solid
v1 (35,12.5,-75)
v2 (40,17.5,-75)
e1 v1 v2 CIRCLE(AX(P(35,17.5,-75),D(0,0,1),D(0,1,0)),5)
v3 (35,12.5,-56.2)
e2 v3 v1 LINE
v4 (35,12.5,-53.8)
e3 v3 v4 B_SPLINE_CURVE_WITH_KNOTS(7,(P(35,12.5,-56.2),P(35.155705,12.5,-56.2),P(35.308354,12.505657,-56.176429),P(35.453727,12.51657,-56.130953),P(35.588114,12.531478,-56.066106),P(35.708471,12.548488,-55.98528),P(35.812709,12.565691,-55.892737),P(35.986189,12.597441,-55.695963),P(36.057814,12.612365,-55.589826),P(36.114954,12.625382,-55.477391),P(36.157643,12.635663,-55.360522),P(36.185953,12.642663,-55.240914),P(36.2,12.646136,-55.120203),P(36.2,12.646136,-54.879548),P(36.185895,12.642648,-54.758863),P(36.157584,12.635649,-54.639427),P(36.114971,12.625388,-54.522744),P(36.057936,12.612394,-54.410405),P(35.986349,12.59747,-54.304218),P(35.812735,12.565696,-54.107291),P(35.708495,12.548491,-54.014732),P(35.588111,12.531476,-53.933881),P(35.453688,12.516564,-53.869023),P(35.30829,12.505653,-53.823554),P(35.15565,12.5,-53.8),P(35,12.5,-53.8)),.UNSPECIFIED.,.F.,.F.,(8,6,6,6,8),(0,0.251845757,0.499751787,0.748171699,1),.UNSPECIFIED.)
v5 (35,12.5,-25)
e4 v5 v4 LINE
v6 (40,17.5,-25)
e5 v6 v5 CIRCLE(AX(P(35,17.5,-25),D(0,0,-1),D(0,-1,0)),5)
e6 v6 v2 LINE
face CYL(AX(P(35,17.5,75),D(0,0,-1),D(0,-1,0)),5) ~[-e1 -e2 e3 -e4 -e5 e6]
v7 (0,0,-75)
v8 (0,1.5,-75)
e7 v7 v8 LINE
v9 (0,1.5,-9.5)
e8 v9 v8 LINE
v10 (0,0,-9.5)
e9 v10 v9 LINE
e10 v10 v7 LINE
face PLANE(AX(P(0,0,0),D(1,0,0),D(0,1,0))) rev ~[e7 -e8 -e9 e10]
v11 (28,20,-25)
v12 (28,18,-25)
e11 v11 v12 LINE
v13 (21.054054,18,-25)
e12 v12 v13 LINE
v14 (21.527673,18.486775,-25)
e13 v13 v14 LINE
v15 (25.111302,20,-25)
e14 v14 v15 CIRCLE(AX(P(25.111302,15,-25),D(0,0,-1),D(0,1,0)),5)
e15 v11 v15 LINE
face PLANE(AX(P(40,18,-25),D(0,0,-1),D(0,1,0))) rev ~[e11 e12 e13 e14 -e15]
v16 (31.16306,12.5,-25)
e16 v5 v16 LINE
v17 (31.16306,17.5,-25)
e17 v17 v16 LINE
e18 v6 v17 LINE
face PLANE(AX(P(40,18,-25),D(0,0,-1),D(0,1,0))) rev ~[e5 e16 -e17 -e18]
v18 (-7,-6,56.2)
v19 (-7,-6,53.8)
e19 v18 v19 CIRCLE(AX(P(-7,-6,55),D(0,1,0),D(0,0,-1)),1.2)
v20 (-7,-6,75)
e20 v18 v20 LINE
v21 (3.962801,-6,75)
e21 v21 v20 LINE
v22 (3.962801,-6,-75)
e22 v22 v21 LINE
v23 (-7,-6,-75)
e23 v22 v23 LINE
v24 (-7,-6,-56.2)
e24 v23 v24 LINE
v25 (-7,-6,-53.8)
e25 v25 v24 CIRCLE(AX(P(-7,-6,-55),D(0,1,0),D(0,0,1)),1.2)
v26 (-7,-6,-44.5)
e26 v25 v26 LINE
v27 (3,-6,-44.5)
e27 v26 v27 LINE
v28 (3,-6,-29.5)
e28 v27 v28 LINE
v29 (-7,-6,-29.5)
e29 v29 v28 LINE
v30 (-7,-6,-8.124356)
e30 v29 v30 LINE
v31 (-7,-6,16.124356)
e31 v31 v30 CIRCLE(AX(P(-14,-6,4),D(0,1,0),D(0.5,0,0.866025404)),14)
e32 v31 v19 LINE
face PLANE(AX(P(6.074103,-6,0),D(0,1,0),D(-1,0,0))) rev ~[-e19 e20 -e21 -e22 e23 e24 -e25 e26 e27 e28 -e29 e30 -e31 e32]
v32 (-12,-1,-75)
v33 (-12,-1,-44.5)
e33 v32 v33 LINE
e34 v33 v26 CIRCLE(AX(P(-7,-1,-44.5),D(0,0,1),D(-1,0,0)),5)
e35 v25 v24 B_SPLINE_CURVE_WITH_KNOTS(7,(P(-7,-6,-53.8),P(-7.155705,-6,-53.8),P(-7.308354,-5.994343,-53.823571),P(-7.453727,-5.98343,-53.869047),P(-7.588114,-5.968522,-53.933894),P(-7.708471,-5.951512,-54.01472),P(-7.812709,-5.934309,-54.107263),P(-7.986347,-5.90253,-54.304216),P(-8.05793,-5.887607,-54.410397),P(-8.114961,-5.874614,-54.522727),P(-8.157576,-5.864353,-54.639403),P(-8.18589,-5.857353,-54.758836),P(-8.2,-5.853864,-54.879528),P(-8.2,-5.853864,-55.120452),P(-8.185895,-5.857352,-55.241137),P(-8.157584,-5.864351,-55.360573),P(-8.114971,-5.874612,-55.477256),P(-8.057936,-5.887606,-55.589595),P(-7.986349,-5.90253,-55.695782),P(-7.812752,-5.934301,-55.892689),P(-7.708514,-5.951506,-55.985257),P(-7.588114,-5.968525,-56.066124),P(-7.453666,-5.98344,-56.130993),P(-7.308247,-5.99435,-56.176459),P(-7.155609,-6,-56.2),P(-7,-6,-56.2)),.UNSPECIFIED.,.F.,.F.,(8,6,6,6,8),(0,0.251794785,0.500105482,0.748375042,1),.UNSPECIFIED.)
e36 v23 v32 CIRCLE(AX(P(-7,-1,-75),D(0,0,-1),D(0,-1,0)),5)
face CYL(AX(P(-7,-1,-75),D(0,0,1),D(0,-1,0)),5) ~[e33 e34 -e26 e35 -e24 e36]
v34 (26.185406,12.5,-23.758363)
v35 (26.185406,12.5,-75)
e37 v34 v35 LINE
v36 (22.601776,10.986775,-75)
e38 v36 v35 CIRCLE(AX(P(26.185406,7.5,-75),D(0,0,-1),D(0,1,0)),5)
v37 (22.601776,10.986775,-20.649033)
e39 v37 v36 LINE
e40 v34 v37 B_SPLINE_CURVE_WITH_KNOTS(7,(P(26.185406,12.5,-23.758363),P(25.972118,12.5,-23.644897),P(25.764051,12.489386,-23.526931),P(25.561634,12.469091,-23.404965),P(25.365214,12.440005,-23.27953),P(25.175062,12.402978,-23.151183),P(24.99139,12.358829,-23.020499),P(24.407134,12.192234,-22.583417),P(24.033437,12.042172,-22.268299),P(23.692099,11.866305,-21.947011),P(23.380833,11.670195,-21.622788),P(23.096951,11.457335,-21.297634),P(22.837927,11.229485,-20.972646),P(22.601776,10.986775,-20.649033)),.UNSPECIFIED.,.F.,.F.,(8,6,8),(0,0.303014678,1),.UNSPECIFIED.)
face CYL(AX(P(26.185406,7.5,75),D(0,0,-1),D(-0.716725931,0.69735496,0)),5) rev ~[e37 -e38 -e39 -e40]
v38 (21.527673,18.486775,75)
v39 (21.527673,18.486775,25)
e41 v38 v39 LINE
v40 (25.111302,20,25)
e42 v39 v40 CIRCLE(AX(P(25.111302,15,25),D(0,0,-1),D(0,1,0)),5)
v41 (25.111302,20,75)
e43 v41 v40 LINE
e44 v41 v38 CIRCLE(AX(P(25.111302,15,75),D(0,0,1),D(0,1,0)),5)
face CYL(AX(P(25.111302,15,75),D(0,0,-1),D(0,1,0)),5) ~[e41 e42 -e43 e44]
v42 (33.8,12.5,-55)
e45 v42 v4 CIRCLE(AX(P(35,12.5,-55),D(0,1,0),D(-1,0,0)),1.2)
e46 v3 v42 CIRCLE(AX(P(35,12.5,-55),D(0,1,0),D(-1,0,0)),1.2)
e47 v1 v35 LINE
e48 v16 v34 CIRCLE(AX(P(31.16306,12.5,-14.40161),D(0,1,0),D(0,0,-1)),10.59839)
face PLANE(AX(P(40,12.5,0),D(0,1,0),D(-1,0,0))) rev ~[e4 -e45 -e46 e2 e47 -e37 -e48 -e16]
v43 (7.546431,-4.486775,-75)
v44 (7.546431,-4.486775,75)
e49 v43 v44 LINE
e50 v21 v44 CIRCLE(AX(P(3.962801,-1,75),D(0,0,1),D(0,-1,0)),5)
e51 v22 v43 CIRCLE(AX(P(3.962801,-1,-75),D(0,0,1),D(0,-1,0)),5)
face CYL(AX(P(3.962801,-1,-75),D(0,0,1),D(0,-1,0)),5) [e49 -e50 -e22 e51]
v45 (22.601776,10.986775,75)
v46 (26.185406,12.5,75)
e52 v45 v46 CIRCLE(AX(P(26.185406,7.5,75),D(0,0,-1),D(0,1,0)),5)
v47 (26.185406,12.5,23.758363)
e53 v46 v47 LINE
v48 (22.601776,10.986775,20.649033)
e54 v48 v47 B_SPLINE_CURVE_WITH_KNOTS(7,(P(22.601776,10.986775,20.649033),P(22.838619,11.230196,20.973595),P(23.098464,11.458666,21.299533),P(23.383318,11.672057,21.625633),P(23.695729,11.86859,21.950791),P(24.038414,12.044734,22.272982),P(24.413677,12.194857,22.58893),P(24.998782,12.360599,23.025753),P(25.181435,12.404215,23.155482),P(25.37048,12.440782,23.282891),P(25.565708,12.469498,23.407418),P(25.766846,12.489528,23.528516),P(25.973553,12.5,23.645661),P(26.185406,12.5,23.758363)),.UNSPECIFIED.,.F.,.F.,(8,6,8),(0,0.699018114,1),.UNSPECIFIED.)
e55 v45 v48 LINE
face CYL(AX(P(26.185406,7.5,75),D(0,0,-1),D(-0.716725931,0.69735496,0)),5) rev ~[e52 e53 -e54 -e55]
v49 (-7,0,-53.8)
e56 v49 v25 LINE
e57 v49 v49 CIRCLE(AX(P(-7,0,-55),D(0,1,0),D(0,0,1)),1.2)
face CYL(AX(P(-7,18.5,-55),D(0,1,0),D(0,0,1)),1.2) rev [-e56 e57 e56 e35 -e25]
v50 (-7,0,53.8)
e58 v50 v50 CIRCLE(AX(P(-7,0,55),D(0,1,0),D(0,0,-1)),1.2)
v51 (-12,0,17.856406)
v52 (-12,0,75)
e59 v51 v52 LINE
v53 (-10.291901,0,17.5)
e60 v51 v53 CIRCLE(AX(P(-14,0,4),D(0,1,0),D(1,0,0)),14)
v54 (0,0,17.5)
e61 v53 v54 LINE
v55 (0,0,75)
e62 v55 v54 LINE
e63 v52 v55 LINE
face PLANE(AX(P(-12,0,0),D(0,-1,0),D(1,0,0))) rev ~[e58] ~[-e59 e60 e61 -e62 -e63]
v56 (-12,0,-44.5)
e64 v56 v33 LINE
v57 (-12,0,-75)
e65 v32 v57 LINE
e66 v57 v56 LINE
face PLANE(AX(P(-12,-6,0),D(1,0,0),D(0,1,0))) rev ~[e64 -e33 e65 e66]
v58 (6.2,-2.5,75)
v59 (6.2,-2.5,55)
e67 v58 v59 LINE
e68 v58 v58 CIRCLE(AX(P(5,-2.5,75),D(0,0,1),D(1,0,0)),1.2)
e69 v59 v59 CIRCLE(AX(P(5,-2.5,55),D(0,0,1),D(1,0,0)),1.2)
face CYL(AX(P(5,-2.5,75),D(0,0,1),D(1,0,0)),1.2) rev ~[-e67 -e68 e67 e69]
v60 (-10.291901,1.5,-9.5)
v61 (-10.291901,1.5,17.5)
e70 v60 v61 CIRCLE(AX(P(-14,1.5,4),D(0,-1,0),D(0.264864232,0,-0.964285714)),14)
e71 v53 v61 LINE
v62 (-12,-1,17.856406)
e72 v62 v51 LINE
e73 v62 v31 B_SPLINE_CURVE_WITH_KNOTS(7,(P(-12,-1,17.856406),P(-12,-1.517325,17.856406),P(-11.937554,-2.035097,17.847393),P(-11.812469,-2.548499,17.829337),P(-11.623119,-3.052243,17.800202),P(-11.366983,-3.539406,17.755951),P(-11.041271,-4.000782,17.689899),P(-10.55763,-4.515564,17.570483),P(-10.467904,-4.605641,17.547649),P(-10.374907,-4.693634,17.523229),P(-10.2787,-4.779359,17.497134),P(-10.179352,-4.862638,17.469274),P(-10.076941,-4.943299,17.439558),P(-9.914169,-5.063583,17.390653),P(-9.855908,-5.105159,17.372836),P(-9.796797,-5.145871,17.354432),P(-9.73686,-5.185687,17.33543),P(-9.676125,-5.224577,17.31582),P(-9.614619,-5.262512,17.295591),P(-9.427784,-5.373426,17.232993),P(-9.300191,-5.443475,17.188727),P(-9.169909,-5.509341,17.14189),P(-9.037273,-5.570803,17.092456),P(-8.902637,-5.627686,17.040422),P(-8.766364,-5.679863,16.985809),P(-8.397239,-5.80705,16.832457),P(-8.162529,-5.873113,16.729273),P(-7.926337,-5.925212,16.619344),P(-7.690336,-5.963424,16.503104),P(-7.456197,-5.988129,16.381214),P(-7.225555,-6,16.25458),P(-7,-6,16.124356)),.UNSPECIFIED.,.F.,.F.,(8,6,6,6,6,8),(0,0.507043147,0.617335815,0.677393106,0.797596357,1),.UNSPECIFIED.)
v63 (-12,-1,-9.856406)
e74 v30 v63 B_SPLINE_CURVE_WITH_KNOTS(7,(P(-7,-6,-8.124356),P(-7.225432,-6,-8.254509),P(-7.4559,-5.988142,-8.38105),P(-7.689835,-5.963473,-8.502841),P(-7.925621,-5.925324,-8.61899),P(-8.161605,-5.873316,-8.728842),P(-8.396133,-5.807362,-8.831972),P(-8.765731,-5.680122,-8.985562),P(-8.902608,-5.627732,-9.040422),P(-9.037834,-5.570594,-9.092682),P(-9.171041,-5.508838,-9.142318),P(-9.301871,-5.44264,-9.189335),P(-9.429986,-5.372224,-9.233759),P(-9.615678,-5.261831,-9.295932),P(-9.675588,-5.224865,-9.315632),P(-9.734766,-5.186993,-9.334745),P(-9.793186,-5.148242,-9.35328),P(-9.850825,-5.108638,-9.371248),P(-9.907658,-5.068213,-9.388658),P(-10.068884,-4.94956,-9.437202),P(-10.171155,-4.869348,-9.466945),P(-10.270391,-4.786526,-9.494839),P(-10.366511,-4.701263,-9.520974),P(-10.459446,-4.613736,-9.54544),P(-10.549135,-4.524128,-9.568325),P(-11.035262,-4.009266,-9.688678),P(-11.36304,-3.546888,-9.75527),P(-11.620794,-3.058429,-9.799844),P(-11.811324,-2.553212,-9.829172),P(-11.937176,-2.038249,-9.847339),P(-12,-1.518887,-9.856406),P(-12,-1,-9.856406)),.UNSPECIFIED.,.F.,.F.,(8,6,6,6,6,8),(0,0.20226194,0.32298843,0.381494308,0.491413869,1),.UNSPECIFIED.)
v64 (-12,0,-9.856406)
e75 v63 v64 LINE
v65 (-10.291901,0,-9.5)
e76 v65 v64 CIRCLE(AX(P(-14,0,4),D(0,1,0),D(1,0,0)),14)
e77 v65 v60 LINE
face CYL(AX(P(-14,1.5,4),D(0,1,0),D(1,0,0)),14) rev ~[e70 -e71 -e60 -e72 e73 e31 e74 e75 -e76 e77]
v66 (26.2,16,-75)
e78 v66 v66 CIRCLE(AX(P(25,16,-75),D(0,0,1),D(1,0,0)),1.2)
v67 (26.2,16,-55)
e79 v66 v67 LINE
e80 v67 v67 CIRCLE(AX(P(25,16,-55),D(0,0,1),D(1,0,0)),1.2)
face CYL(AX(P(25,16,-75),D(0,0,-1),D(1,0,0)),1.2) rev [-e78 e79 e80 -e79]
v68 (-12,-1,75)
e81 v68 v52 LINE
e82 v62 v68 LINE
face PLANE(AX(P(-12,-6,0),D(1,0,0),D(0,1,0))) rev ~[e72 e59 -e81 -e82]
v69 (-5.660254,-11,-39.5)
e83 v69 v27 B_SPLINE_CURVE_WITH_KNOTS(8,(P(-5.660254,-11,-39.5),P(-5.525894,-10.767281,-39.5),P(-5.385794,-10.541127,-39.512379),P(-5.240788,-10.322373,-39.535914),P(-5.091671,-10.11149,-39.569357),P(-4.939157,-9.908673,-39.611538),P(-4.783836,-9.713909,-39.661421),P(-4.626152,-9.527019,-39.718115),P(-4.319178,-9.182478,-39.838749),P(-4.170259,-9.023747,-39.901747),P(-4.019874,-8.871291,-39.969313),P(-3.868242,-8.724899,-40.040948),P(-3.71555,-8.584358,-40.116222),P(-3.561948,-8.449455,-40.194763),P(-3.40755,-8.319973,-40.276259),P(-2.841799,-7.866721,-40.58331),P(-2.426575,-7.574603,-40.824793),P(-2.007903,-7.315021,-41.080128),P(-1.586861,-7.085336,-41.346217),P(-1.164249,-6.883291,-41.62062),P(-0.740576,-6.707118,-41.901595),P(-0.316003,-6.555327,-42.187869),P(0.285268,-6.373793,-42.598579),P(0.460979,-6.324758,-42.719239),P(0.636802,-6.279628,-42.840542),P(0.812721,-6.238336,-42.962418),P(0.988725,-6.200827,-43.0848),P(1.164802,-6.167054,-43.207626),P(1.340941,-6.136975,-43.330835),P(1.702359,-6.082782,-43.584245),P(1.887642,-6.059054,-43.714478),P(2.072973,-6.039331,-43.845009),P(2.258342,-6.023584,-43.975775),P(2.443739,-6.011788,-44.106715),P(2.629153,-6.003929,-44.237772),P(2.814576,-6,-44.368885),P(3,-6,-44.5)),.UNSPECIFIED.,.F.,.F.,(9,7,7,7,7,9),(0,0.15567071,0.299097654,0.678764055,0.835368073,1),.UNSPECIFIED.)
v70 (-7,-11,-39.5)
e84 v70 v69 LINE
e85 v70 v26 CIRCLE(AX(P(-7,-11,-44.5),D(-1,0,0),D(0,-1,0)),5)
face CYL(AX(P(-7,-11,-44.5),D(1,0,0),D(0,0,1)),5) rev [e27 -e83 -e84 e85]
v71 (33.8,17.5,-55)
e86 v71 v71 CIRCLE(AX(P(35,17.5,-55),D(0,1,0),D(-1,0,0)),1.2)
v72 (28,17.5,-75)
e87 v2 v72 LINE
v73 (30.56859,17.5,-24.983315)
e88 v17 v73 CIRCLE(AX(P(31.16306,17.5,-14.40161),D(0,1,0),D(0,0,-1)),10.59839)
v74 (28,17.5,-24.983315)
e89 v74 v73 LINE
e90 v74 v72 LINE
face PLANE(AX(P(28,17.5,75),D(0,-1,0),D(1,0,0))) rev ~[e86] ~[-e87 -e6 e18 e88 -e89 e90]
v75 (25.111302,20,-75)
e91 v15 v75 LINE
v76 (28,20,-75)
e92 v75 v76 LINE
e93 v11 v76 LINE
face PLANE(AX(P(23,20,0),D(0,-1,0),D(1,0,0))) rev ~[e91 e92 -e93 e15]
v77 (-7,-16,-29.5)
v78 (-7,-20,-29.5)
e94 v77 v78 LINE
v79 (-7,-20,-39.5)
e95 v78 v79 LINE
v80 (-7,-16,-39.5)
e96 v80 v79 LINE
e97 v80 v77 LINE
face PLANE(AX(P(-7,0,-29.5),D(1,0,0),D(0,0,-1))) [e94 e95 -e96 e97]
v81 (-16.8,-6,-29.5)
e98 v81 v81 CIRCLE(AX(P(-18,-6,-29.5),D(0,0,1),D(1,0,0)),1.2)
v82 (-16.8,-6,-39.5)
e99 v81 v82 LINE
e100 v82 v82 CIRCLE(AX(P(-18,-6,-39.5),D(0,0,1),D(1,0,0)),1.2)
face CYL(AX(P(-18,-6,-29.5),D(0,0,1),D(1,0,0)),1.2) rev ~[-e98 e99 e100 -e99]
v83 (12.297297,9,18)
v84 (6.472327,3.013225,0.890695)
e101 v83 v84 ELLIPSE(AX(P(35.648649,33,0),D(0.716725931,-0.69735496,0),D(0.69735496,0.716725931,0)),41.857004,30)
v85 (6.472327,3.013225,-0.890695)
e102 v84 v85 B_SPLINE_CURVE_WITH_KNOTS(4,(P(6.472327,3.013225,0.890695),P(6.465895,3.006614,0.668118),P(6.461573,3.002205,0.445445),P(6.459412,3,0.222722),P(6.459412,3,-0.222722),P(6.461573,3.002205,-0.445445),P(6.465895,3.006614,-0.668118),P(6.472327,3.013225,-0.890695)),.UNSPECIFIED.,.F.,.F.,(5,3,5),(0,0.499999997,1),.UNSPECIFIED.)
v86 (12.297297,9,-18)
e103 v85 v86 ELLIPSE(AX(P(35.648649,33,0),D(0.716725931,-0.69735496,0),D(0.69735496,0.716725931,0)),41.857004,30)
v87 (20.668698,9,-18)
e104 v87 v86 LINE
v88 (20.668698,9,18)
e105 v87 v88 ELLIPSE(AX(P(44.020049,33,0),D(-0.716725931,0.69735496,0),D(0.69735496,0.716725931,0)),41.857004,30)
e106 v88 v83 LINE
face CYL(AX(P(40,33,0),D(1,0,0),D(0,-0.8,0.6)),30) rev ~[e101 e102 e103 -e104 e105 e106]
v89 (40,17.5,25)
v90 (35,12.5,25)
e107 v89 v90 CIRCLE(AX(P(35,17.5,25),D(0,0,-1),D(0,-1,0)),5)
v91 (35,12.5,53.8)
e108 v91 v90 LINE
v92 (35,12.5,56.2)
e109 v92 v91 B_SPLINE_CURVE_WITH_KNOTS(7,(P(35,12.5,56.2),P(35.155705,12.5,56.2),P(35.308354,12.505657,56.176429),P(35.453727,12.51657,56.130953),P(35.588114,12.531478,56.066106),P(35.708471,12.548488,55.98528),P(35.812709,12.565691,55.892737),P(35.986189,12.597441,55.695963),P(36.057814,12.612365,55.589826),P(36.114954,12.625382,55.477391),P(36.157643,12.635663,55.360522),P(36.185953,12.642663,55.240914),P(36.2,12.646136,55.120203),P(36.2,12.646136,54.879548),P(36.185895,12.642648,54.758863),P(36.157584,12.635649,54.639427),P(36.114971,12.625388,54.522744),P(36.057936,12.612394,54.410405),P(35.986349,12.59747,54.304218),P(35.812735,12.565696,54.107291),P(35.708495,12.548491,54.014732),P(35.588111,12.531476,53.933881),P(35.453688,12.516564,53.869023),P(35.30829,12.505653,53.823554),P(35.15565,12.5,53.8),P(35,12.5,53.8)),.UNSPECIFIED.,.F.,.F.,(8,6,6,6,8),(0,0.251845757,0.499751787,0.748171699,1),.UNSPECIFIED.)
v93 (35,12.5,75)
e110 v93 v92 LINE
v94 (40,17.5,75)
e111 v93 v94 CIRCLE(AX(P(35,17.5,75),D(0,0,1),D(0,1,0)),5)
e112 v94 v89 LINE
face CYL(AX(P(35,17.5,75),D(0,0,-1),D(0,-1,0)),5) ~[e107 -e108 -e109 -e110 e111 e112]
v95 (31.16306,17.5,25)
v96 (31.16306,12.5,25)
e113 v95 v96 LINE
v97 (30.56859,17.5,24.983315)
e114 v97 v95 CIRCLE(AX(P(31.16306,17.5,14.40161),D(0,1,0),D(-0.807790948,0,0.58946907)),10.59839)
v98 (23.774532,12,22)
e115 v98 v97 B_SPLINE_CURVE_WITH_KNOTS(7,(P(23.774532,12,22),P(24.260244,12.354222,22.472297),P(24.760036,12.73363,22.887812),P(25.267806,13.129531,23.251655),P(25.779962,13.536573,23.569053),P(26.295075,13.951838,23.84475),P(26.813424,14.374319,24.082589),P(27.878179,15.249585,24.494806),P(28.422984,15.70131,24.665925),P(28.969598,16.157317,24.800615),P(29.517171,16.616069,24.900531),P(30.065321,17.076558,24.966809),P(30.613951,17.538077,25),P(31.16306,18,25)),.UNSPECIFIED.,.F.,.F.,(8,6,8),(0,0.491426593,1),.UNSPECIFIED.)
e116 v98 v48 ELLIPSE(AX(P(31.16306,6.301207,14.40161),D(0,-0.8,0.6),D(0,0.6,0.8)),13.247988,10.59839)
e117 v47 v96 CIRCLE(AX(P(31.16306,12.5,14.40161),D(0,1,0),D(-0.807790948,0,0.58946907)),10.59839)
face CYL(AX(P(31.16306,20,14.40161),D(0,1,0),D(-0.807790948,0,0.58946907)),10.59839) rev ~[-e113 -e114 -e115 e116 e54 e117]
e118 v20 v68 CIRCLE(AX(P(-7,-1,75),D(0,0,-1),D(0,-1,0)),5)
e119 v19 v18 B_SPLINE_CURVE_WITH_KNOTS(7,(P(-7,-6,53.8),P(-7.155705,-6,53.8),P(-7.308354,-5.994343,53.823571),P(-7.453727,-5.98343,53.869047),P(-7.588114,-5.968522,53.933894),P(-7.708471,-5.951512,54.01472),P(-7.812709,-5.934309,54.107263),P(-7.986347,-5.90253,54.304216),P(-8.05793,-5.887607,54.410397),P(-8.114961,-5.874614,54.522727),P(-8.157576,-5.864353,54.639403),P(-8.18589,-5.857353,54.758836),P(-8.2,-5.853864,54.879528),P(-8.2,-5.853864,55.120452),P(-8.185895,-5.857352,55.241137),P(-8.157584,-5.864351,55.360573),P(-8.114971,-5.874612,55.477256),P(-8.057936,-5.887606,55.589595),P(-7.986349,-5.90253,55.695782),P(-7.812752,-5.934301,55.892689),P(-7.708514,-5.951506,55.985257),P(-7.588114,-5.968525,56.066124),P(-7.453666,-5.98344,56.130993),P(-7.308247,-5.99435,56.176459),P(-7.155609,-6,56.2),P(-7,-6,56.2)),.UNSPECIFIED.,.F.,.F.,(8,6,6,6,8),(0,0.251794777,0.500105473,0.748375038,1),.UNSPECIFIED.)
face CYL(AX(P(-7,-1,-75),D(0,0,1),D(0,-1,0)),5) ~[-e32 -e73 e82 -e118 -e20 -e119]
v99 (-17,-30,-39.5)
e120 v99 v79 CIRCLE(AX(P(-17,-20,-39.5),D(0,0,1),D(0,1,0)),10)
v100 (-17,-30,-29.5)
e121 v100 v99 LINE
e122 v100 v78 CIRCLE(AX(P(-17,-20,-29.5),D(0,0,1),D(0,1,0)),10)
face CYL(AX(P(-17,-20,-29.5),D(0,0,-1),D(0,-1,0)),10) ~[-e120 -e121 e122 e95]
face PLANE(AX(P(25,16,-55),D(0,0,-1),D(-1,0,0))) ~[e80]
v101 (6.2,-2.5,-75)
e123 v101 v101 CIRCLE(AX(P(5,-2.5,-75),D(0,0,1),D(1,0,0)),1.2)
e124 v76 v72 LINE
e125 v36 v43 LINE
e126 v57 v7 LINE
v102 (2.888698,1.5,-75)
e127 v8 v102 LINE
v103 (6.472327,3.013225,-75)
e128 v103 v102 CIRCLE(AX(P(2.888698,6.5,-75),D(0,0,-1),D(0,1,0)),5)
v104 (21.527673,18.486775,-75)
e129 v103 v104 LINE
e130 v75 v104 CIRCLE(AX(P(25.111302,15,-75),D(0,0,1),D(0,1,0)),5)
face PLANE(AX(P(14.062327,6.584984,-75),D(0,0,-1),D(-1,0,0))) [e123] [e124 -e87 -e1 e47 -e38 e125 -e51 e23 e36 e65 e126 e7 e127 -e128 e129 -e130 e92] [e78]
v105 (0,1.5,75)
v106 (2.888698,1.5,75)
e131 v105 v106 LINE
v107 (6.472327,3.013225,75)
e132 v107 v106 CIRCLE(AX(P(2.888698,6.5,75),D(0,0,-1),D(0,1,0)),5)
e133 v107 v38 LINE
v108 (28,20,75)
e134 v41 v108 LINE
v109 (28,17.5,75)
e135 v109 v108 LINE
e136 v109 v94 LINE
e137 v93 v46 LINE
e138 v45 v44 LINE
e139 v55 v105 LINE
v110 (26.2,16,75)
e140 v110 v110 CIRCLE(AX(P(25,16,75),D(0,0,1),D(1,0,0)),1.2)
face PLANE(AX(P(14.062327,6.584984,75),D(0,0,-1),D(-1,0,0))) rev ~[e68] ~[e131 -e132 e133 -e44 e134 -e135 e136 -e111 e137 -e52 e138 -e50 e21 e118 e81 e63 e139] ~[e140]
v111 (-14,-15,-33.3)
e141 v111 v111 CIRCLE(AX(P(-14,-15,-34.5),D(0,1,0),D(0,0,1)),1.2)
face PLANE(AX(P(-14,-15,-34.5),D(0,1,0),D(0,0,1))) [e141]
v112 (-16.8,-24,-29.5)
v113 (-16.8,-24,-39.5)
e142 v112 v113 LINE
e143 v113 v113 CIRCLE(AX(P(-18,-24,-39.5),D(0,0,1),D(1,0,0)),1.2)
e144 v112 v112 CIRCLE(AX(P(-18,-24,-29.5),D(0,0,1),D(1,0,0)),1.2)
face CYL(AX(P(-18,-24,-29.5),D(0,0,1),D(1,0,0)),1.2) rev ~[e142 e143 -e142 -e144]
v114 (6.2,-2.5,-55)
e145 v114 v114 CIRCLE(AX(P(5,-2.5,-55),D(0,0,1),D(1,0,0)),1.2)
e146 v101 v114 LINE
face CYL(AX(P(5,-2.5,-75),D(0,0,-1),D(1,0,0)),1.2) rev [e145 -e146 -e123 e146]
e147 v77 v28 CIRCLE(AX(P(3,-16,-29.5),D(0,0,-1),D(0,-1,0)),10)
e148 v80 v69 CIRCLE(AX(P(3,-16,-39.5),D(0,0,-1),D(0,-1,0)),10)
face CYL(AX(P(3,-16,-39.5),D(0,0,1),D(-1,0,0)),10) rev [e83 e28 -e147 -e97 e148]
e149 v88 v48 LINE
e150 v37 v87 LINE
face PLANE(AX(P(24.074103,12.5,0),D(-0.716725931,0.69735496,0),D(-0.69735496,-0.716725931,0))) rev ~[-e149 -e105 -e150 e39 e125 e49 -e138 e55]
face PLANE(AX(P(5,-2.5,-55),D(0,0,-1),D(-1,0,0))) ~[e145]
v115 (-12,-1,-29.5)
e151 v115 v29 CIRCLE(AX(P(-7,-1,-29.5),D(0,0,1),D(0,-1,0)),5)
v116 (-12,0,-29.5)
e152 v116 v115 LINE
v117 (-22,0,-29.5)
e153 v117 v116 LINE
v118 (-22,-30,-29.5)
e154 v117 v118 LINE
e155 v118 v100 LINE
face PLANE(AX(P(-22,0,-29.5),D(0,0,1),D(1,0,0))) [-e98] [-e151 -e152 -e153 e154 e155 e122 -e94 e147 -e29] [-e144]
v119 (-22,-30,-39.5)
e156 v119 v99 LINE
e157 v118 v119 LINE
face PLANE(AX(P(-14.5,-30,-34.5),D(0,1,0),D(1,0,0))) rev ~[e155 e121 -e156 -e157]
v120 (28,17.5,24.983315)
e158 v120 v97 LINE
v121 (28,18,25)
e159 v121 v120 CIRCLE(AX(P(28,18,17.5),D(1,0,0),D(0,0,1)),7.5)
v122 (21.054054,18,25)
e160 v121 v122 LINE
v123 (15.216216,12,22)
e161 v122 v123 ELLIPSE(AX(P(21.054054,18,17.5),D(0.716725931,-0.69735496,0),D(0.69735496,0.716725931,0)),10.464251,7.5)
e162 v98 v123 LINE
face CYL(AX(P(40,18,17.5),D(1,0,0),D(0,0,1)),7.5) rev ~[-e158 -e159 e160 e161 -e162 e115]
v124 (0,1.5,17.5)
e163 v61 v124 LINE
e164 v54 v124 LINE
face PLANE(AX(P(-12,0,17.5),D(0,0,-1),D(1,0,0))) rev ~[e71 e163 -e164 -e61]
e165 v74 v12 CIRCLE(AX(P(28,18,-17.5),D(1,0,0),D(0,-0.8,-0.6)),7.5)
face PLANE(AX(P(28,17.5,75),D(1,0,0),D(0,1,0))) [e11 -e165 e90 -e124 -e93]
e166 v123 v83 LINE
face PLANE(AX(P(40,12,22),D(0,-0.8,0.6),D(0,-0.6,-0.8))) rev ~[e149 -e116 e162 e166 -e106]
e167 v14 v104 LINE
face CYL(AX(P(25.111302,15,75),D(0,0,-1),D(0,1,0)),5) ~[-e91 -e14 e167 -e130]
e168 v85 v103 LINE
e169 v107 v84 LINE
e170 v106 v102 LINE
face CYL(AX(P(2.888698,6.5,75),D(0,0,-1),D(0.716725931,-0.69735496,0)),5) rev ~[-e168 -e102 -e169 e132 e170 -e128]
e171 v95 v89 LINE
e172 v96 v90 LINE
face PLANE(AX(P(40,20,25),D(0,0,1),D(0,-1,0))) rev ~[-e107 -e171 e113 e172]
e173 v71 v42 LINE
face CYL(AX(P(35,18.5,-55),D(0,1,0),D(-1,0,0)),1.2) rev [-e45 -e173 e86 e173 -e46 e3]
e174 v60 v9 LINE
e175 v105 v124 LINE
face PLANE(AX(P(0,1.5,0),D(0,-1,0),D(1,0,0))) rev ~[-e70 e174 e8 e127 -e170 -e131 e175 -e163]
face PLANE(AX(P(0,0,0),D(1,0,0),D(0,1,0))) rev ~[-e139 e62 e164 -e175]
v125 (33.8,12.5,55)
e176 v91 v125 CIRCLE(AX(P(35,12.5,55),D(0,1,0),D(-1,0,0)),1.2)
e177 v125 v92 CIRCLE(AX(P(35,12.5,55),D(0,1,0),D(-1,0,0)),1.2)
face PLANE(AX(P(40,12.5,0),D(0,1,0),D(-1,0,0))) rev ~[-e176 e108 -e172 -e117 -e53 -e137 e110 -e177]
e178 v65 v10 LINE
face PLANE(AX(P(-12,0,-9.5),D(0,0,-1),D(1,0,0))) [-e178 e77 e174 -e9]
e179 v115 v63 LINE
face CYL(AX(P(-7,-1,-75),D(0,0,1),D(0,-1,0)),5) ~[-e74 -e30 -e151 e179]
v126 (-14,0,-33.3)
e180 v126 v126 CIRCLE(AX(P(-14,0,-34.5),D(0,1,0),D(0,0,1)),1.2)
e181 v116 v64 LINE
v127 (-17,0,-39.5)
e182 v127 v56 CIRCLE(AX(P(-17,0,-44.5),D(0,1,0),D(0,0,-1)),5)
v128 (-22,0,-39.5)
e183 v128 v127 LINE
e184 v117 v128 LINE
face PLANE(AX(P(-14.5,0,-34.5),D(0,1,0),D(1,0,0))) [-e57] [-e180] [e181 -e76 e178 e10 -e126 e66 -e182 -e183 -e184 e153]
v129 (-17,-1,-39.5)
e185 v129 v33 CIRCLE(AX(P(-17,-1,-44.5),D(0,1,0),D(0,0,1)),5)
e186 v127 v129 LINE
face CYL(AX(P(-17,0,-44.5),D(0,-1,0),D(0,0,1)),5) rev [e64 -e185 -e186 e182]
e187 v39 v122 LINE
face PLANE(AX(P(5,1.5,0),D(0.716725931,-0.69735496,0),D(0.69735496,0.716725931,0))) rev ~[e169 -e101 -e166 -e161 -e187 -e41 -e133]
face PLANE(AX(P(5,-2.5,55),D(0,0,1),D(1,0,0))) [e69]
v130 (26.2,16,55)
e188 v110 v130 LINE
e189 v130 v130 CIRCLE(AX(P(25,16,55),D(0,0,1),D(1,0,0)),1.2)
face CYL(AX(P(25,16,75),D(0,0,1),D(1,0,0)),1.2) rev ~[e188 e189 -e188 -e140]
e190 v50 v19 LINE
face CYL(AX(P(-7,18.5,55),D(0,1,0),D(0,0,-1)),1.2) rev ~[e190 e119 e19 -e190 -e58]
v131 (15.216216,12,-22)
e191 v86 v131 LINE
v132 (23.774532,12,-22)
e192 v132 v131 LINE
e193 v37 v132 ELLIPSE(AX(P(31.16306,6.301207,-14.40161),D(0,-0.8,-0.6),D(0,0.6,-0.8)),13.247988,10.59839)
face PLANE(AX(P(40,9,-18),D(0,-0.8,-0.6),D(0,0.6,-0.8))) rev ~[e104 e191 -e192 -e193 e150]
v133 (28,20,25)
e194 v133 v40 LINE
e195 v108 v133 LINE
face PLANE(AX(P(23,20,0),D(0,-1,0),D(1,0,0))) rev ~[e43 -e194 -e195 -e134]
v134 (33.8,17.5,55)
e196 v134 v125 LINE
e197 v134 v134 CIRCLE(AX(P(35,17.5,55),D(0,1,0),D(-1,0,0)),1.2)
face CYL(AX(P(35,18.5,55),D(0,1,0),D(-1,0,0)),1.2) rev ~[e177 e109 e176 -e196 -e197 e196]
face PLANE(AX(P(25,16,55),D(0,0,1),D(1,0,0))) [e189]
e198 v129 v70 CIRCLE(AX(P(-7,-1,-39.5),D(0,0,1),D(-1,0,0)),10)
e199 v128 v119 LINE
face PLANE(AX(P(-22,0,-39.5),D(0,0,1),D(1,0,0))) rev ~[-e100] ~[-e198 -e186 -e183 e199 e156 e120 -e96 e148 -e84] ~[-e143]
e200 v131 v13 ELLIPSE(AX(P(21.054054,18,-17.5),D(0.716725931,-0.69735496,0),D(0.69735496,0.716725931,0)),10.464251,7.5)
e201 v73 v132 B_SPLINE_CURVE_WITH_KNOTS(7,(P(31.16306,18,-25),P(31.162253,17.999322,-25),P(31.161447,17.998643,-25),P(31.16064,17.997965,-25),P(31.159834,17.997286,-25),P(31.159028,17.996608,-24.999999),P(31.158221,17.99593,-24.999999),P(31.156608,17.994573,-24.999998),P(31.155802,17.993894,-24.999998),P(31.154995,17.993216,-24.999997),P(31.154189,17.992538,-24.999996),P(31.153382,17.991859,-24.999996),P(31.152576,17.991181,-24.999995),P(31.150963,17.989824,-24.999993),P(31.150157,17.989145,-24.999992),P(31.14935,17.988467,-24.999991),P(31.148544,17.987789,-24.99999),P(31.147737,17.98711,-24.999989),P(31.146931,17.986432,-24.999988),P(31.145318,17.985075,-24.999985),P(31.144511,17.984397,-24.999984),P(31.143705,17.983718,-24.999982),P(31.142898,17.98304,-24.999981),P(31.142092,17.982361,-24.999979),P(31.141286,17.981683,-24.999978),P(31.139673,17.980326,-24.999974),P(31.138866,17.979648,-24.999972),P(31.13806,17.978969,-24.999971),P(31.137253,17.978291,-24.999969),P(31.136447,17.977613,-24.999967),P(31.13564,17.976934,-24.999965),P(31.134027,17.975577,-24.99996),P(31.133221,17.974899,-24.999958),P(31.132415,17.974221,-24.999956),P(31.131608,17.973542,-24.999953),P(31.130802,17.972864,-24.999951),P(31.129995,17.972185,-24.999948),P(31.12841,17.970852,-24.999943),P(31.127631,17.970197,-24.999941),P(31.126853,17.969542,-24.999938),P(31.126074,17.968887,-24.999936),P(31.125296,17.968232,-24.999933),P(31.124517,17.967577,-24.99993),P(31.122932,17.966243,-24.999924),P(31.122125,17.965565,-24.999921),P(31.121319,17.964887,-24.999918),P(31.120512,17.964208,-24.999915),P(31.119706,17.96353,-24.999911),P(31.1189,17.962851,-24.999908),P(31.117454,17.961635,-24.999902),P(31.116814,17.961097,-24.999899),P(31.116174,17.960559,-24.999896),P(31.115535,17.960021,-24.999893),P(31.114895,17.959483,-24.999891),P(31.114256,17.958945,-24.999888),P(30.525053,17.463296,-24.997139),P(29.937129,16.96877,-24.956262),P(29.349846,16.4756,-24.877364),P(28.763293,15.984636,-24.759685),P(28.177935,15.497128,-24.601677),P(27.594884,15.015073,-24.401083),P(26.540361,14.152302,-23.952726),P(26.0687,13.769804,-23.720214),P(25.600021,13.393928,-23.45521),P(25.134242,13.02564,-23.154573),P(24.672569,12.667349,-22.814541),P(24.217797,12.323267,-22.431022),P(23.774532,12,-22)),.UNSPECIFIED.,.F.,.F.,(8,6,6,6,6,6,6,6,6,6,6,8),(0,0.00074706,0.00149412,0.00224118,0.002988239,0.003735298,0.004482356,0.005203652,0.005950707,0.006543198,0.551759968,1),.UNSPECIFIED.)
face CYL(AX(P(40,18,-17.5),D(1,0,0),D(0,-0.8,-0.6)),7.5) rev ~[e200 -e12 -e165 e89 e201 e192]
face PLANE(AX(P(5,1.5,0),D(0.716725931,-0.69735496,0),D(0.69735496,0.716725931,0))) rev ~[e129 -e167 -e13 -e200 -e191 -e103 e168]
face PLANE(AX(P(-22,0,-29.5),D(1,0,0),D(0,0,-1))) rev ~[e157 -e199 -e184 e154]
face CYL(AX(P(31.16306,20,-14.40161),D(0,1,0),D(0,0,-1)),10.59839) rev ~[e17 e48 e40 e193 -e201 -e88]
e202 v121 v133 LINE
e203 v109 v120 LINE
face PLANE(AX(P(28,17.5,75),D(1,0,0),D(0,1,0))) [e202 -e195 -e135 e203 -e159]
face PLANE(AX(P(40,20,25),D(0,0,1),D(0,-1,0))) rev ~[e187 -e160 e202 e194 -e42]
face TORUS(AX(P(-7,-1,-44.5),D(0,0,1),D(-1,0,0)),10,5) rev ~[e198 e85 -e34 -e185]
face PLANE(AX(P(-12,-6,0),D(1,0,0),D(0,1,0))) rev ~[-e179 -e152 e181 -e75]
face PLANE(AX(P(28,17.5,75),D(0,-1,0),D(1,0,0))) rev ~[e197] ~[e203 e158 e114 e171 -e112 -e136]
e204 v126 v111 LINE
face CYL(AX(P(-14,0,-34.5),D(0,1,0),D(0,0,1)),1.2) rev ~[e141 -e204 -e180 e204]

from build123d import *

# Parameters (mm, degrees)
BOSS_EXTRU_1_DEPTH      = 75
CONG_1_R                = 5
ESQUISSE2_W             = 12
ESQUISSE2_H             = 27
BOSS_EXTRU_2_DEPTH      = 1.5
ESQUISSE3_R             = 14
ENL_V_MAT_EXTRU_1_DEPTH = 87.989941947
ENL_V_MAT_EXTRU_2_DEPTH = 94.429117653
ENL_V_MAT_EXTRU_3_DEPTH = 89.887569593
ESQUISSE6_R             = 1.2
ENL_V_MAT_EXTRU_4_DEPTH = 20
ESQUISSE7_R             = 1.2
ENL_V_MAT_EXTRU_5_DEPTH = 89.46044325
ESQUISSE9_W             = 15
ESQUISSE9_H             = 10
BOSS_EXTRU_3_DEPTH      = 30
CONG_2_R                = 10
CONG_3_R                = 5
ESQUISSE10_R            = 1.2
ENL_V_MAT_EXTRU_6_DEPTH = 10
ESQUISSE11_R            = 1.2
ENL_V_MAT_EXTRU_7_DEPTH = 15
ESQUISSE12_W            = 12
ESQUISSE12_H            = 2.5
ENL_V_MAT_EXTRU_8_DEPTH = 159.113883129


with BuildPart() as part:
    # Esquisse1 → Boss.-Extru.1 (new, symmetric)
    with BuildSketch(Plane.XY):
        Polygon((-12, 0), (0, 0), (0, 1.5), (5, 1.5), (23, 20), (28, 20), (28, 18.5), (40, 18.5), (40, 12.5), (24.074103459, 12.5), (6.074103459, -6), (-12, -6), align=None)
    extrude(amount=BOSS_EXTRU_1_DEPTH, both=True)

    # Congé1
    cong_1_edges = [part.edges().sort_by_distance(p)[0] for p in [
        (5, 1.5, 0),
        (23, 20, 0),
        (40, 12.5, 0),
        (24.074103459, 12.5, 0),
        (6.074103459, -6, 0),
        (-12, -6, 0),
    ]]
    fillet(cong_1_edges, radius=CONG_1_R)

    # Esquisse2 → Boss.-Extru.2 (add)
    with BuildSketch(Plane(origin=(0, 0, 0), x_dir=(1, 0, 0), z_dir=(0, 1, 0))):
        with Locations((-6, -4)):
            Rectangle(ESQUISSE2_W, ESQUISSE2_H)
    extrude(amount=BOSS_EXTRU_2_DEPTH)

    # Esquisse3 → Enlèv. mat.-Extru.1 (cut, through all)
    with BuildSketch(Plane(origin=(0, 1.5, 0), x_dir=(1, 0, 0), z_dir=(0, 1, 0))):
        with Locations((-14, -4)):
            Circle(ESQUISSE3_R)
    extrude(amount=-ENL_V_MAT_EXTRU_1_DEPTH, mode=Mode.SUBTRACT)

    # Esquisse4 → Enlèv. mat.-Extru.2 (cut, through all)
    with BuildSketch(Plane(origin=(40, 0, 0), x_dir=(0, 0, -1), z_dir=(1, 0, 0))):
        with BuildLine():
            Line((-22, 12), (-18, 9))
            ThreePointArc((-18, 9), (0, 3), (18, 9))
            Line((18, 9), (22, 12))
            ThreePointArc((22, 12), (24.208203932, 14.645898034), (25, 18))
            Line((25, 18), (25, 20))
            Line((25, 20), (-25, 20))
            Line((-25, 20), (-25, 18))
            ThreePointArc((-25, 18), (-24.208203932, 14.645898034), (-22, 12))
        make_face()
    extrude(amount=-ENL_V_MAT_EXTRU_2_DEPTH, mode=Mode.SUBTRACT)

    # Esquisse5 → Enlèv. mat.-Extru.3 (cut, through all)
    with BuildSketch(Plane(origin=(0, 20, 0), x_dir=(1, 0, 0), z_dir=(0, 1, 0))):
        with BuildLine():
            Line((40, 25), (31.163059803, 25))
            ThreePointArc((31.163059803, 25), (26.361328616, 23.849850491), (22.601776236, 20.649033065))
            Line((22.601776236, 20.649033065), (22.601776236, -20.649033065))
            ThreePointArc((22.601776236, -20.649033065), (26.361328616, -23.849850491), (31.163059803, -25))
            Line((31.163059803, -25), (40, -25))
            Line((40, -25), (40, 25))
        make_face()
    extrude(amount=-ENL_V_MAT_EXTRU_3_DEPTH, mode=Mode.SUBTRACT)

    # Esquisse6 → Enlèv. mat.-Extru.4 (cut)
    with BuildSketch(Plane.XY.offset(75)):
        with Locations((25, 16)):
            Circle(ESQUISSE6_R)
        with Locations((5, -2.5)):
            Circle(ESQUISSE6_R)
    enl_v_mat_extru_4 = extrude(amount=-ENL_V_MAT_EXTRU_4_DEPTH, mode=Mode.SUBTRACT)

    # Esquisse7 → Enlèv. mat.-Extru.5 (cut, through all)
    with BuildSketch(Plane(origin=(0, 18.5, 0), x_dir=(1, 0, 0), z_dir=(0, 1, 0))):
        with Locations(Location((35, -55, 0), (0, 0, 180))):
            Circle(ESQUISSE7_R)
        with Locations(Location((-7, -55, 0), (0, 0, 90))):
            Circle(ESQUISSE7_R)
    enl_v_mat_extru_5 = extrude(amount=-ENL_V_MAT_EXTRU_5_DEPTH, mode=Mode.SUBTRACT)

    # Symétrie1: Enlèv. mat.-Extru.4, Enlèv. mat.-Extru.5 across plane
    add(enl_v_mat_extru_4.mirror(Plane.XY), mode=Mode.SUBTRACT)
    add(enl_v_mat_extru_5.mirror(Plane.XY), mode=Mode.SUBTRACT)

    # Esquisse9 → Boss.-Extru.3 (add)
    with BuildSketch(Plane(origin=(0, 0, 0), x_dir=(1, 0, 0), z_dir=(0, 1, 0))):
        with Locations((-14.5, 34.5)):
            Rectangle(ESQUISSE9_W, ESQUISSE9_H)
    extrude(amount=-BOSS_EXTRU_3_DEPTH)

    # Congé2
    cong_2_edges = [part.edges().sort_by_distance(p)[0] for p in [
        (-7, -6, -34.5),
        (-7, -30, -34.5),
    ]]
    fillet(cong_2_edges, radius=CONG_2_R)

    # Congé3
    cong_3_edges = [part.edges().sort_by_distance(p)[0] for p in [
        (-12, -0.5, -39.5),
        (-10.535533906, -4.535533906, -39.5),
        (-2, -6, -39.5),
    ]]
    fillet(cong_3_edges, radius=CONG_3_R)

    # Esquisse10 → Enlèv. mat.-Extru.6 (cut)
    with BuildSketch(Plane.XY.offset(-29.5)):
        with Locations((-18, -24)):
            Circle(ESQUISSE10_R)
        with Locations((-18, -6)):
            Circle(ESQUISSE10_R)
    extrude(amount=-ENL_V_MAT_EXTRU_6_DEPTH, mode=Mode.SUBTRACT)

    # Esquisse11 → Enlèv. mat.-Extru.7 (cut)
    with BuildSketch(Plane(origin=(0, 0, 0), x_dir=(1, 0, 0), z_dir=(0, 1, 0))):
        with Locations(Location((-14, 34.5, 0), (0, 0, 270))):
            Circle(ESQUISSE11_R)
    extrude(amount=-ENL_V_MAT_EXTRU_7_DEPTH, mode=Mode.SUBTRACT)

    # Esquisse12 → Enlèv. mat.-Extru.8 (cut, through all)
    with BuildSketch(Plane.XY.offset(75)):
        with Locations((34, 18.75)):
            Rectangle(ESQUISSE12_W, ESQUISSE12_H)
    extrude(amount=-ENL_V_MAT_EXTRU_8_DEPTH, mode=Mode.SUBTRACT)


solid = part.part
